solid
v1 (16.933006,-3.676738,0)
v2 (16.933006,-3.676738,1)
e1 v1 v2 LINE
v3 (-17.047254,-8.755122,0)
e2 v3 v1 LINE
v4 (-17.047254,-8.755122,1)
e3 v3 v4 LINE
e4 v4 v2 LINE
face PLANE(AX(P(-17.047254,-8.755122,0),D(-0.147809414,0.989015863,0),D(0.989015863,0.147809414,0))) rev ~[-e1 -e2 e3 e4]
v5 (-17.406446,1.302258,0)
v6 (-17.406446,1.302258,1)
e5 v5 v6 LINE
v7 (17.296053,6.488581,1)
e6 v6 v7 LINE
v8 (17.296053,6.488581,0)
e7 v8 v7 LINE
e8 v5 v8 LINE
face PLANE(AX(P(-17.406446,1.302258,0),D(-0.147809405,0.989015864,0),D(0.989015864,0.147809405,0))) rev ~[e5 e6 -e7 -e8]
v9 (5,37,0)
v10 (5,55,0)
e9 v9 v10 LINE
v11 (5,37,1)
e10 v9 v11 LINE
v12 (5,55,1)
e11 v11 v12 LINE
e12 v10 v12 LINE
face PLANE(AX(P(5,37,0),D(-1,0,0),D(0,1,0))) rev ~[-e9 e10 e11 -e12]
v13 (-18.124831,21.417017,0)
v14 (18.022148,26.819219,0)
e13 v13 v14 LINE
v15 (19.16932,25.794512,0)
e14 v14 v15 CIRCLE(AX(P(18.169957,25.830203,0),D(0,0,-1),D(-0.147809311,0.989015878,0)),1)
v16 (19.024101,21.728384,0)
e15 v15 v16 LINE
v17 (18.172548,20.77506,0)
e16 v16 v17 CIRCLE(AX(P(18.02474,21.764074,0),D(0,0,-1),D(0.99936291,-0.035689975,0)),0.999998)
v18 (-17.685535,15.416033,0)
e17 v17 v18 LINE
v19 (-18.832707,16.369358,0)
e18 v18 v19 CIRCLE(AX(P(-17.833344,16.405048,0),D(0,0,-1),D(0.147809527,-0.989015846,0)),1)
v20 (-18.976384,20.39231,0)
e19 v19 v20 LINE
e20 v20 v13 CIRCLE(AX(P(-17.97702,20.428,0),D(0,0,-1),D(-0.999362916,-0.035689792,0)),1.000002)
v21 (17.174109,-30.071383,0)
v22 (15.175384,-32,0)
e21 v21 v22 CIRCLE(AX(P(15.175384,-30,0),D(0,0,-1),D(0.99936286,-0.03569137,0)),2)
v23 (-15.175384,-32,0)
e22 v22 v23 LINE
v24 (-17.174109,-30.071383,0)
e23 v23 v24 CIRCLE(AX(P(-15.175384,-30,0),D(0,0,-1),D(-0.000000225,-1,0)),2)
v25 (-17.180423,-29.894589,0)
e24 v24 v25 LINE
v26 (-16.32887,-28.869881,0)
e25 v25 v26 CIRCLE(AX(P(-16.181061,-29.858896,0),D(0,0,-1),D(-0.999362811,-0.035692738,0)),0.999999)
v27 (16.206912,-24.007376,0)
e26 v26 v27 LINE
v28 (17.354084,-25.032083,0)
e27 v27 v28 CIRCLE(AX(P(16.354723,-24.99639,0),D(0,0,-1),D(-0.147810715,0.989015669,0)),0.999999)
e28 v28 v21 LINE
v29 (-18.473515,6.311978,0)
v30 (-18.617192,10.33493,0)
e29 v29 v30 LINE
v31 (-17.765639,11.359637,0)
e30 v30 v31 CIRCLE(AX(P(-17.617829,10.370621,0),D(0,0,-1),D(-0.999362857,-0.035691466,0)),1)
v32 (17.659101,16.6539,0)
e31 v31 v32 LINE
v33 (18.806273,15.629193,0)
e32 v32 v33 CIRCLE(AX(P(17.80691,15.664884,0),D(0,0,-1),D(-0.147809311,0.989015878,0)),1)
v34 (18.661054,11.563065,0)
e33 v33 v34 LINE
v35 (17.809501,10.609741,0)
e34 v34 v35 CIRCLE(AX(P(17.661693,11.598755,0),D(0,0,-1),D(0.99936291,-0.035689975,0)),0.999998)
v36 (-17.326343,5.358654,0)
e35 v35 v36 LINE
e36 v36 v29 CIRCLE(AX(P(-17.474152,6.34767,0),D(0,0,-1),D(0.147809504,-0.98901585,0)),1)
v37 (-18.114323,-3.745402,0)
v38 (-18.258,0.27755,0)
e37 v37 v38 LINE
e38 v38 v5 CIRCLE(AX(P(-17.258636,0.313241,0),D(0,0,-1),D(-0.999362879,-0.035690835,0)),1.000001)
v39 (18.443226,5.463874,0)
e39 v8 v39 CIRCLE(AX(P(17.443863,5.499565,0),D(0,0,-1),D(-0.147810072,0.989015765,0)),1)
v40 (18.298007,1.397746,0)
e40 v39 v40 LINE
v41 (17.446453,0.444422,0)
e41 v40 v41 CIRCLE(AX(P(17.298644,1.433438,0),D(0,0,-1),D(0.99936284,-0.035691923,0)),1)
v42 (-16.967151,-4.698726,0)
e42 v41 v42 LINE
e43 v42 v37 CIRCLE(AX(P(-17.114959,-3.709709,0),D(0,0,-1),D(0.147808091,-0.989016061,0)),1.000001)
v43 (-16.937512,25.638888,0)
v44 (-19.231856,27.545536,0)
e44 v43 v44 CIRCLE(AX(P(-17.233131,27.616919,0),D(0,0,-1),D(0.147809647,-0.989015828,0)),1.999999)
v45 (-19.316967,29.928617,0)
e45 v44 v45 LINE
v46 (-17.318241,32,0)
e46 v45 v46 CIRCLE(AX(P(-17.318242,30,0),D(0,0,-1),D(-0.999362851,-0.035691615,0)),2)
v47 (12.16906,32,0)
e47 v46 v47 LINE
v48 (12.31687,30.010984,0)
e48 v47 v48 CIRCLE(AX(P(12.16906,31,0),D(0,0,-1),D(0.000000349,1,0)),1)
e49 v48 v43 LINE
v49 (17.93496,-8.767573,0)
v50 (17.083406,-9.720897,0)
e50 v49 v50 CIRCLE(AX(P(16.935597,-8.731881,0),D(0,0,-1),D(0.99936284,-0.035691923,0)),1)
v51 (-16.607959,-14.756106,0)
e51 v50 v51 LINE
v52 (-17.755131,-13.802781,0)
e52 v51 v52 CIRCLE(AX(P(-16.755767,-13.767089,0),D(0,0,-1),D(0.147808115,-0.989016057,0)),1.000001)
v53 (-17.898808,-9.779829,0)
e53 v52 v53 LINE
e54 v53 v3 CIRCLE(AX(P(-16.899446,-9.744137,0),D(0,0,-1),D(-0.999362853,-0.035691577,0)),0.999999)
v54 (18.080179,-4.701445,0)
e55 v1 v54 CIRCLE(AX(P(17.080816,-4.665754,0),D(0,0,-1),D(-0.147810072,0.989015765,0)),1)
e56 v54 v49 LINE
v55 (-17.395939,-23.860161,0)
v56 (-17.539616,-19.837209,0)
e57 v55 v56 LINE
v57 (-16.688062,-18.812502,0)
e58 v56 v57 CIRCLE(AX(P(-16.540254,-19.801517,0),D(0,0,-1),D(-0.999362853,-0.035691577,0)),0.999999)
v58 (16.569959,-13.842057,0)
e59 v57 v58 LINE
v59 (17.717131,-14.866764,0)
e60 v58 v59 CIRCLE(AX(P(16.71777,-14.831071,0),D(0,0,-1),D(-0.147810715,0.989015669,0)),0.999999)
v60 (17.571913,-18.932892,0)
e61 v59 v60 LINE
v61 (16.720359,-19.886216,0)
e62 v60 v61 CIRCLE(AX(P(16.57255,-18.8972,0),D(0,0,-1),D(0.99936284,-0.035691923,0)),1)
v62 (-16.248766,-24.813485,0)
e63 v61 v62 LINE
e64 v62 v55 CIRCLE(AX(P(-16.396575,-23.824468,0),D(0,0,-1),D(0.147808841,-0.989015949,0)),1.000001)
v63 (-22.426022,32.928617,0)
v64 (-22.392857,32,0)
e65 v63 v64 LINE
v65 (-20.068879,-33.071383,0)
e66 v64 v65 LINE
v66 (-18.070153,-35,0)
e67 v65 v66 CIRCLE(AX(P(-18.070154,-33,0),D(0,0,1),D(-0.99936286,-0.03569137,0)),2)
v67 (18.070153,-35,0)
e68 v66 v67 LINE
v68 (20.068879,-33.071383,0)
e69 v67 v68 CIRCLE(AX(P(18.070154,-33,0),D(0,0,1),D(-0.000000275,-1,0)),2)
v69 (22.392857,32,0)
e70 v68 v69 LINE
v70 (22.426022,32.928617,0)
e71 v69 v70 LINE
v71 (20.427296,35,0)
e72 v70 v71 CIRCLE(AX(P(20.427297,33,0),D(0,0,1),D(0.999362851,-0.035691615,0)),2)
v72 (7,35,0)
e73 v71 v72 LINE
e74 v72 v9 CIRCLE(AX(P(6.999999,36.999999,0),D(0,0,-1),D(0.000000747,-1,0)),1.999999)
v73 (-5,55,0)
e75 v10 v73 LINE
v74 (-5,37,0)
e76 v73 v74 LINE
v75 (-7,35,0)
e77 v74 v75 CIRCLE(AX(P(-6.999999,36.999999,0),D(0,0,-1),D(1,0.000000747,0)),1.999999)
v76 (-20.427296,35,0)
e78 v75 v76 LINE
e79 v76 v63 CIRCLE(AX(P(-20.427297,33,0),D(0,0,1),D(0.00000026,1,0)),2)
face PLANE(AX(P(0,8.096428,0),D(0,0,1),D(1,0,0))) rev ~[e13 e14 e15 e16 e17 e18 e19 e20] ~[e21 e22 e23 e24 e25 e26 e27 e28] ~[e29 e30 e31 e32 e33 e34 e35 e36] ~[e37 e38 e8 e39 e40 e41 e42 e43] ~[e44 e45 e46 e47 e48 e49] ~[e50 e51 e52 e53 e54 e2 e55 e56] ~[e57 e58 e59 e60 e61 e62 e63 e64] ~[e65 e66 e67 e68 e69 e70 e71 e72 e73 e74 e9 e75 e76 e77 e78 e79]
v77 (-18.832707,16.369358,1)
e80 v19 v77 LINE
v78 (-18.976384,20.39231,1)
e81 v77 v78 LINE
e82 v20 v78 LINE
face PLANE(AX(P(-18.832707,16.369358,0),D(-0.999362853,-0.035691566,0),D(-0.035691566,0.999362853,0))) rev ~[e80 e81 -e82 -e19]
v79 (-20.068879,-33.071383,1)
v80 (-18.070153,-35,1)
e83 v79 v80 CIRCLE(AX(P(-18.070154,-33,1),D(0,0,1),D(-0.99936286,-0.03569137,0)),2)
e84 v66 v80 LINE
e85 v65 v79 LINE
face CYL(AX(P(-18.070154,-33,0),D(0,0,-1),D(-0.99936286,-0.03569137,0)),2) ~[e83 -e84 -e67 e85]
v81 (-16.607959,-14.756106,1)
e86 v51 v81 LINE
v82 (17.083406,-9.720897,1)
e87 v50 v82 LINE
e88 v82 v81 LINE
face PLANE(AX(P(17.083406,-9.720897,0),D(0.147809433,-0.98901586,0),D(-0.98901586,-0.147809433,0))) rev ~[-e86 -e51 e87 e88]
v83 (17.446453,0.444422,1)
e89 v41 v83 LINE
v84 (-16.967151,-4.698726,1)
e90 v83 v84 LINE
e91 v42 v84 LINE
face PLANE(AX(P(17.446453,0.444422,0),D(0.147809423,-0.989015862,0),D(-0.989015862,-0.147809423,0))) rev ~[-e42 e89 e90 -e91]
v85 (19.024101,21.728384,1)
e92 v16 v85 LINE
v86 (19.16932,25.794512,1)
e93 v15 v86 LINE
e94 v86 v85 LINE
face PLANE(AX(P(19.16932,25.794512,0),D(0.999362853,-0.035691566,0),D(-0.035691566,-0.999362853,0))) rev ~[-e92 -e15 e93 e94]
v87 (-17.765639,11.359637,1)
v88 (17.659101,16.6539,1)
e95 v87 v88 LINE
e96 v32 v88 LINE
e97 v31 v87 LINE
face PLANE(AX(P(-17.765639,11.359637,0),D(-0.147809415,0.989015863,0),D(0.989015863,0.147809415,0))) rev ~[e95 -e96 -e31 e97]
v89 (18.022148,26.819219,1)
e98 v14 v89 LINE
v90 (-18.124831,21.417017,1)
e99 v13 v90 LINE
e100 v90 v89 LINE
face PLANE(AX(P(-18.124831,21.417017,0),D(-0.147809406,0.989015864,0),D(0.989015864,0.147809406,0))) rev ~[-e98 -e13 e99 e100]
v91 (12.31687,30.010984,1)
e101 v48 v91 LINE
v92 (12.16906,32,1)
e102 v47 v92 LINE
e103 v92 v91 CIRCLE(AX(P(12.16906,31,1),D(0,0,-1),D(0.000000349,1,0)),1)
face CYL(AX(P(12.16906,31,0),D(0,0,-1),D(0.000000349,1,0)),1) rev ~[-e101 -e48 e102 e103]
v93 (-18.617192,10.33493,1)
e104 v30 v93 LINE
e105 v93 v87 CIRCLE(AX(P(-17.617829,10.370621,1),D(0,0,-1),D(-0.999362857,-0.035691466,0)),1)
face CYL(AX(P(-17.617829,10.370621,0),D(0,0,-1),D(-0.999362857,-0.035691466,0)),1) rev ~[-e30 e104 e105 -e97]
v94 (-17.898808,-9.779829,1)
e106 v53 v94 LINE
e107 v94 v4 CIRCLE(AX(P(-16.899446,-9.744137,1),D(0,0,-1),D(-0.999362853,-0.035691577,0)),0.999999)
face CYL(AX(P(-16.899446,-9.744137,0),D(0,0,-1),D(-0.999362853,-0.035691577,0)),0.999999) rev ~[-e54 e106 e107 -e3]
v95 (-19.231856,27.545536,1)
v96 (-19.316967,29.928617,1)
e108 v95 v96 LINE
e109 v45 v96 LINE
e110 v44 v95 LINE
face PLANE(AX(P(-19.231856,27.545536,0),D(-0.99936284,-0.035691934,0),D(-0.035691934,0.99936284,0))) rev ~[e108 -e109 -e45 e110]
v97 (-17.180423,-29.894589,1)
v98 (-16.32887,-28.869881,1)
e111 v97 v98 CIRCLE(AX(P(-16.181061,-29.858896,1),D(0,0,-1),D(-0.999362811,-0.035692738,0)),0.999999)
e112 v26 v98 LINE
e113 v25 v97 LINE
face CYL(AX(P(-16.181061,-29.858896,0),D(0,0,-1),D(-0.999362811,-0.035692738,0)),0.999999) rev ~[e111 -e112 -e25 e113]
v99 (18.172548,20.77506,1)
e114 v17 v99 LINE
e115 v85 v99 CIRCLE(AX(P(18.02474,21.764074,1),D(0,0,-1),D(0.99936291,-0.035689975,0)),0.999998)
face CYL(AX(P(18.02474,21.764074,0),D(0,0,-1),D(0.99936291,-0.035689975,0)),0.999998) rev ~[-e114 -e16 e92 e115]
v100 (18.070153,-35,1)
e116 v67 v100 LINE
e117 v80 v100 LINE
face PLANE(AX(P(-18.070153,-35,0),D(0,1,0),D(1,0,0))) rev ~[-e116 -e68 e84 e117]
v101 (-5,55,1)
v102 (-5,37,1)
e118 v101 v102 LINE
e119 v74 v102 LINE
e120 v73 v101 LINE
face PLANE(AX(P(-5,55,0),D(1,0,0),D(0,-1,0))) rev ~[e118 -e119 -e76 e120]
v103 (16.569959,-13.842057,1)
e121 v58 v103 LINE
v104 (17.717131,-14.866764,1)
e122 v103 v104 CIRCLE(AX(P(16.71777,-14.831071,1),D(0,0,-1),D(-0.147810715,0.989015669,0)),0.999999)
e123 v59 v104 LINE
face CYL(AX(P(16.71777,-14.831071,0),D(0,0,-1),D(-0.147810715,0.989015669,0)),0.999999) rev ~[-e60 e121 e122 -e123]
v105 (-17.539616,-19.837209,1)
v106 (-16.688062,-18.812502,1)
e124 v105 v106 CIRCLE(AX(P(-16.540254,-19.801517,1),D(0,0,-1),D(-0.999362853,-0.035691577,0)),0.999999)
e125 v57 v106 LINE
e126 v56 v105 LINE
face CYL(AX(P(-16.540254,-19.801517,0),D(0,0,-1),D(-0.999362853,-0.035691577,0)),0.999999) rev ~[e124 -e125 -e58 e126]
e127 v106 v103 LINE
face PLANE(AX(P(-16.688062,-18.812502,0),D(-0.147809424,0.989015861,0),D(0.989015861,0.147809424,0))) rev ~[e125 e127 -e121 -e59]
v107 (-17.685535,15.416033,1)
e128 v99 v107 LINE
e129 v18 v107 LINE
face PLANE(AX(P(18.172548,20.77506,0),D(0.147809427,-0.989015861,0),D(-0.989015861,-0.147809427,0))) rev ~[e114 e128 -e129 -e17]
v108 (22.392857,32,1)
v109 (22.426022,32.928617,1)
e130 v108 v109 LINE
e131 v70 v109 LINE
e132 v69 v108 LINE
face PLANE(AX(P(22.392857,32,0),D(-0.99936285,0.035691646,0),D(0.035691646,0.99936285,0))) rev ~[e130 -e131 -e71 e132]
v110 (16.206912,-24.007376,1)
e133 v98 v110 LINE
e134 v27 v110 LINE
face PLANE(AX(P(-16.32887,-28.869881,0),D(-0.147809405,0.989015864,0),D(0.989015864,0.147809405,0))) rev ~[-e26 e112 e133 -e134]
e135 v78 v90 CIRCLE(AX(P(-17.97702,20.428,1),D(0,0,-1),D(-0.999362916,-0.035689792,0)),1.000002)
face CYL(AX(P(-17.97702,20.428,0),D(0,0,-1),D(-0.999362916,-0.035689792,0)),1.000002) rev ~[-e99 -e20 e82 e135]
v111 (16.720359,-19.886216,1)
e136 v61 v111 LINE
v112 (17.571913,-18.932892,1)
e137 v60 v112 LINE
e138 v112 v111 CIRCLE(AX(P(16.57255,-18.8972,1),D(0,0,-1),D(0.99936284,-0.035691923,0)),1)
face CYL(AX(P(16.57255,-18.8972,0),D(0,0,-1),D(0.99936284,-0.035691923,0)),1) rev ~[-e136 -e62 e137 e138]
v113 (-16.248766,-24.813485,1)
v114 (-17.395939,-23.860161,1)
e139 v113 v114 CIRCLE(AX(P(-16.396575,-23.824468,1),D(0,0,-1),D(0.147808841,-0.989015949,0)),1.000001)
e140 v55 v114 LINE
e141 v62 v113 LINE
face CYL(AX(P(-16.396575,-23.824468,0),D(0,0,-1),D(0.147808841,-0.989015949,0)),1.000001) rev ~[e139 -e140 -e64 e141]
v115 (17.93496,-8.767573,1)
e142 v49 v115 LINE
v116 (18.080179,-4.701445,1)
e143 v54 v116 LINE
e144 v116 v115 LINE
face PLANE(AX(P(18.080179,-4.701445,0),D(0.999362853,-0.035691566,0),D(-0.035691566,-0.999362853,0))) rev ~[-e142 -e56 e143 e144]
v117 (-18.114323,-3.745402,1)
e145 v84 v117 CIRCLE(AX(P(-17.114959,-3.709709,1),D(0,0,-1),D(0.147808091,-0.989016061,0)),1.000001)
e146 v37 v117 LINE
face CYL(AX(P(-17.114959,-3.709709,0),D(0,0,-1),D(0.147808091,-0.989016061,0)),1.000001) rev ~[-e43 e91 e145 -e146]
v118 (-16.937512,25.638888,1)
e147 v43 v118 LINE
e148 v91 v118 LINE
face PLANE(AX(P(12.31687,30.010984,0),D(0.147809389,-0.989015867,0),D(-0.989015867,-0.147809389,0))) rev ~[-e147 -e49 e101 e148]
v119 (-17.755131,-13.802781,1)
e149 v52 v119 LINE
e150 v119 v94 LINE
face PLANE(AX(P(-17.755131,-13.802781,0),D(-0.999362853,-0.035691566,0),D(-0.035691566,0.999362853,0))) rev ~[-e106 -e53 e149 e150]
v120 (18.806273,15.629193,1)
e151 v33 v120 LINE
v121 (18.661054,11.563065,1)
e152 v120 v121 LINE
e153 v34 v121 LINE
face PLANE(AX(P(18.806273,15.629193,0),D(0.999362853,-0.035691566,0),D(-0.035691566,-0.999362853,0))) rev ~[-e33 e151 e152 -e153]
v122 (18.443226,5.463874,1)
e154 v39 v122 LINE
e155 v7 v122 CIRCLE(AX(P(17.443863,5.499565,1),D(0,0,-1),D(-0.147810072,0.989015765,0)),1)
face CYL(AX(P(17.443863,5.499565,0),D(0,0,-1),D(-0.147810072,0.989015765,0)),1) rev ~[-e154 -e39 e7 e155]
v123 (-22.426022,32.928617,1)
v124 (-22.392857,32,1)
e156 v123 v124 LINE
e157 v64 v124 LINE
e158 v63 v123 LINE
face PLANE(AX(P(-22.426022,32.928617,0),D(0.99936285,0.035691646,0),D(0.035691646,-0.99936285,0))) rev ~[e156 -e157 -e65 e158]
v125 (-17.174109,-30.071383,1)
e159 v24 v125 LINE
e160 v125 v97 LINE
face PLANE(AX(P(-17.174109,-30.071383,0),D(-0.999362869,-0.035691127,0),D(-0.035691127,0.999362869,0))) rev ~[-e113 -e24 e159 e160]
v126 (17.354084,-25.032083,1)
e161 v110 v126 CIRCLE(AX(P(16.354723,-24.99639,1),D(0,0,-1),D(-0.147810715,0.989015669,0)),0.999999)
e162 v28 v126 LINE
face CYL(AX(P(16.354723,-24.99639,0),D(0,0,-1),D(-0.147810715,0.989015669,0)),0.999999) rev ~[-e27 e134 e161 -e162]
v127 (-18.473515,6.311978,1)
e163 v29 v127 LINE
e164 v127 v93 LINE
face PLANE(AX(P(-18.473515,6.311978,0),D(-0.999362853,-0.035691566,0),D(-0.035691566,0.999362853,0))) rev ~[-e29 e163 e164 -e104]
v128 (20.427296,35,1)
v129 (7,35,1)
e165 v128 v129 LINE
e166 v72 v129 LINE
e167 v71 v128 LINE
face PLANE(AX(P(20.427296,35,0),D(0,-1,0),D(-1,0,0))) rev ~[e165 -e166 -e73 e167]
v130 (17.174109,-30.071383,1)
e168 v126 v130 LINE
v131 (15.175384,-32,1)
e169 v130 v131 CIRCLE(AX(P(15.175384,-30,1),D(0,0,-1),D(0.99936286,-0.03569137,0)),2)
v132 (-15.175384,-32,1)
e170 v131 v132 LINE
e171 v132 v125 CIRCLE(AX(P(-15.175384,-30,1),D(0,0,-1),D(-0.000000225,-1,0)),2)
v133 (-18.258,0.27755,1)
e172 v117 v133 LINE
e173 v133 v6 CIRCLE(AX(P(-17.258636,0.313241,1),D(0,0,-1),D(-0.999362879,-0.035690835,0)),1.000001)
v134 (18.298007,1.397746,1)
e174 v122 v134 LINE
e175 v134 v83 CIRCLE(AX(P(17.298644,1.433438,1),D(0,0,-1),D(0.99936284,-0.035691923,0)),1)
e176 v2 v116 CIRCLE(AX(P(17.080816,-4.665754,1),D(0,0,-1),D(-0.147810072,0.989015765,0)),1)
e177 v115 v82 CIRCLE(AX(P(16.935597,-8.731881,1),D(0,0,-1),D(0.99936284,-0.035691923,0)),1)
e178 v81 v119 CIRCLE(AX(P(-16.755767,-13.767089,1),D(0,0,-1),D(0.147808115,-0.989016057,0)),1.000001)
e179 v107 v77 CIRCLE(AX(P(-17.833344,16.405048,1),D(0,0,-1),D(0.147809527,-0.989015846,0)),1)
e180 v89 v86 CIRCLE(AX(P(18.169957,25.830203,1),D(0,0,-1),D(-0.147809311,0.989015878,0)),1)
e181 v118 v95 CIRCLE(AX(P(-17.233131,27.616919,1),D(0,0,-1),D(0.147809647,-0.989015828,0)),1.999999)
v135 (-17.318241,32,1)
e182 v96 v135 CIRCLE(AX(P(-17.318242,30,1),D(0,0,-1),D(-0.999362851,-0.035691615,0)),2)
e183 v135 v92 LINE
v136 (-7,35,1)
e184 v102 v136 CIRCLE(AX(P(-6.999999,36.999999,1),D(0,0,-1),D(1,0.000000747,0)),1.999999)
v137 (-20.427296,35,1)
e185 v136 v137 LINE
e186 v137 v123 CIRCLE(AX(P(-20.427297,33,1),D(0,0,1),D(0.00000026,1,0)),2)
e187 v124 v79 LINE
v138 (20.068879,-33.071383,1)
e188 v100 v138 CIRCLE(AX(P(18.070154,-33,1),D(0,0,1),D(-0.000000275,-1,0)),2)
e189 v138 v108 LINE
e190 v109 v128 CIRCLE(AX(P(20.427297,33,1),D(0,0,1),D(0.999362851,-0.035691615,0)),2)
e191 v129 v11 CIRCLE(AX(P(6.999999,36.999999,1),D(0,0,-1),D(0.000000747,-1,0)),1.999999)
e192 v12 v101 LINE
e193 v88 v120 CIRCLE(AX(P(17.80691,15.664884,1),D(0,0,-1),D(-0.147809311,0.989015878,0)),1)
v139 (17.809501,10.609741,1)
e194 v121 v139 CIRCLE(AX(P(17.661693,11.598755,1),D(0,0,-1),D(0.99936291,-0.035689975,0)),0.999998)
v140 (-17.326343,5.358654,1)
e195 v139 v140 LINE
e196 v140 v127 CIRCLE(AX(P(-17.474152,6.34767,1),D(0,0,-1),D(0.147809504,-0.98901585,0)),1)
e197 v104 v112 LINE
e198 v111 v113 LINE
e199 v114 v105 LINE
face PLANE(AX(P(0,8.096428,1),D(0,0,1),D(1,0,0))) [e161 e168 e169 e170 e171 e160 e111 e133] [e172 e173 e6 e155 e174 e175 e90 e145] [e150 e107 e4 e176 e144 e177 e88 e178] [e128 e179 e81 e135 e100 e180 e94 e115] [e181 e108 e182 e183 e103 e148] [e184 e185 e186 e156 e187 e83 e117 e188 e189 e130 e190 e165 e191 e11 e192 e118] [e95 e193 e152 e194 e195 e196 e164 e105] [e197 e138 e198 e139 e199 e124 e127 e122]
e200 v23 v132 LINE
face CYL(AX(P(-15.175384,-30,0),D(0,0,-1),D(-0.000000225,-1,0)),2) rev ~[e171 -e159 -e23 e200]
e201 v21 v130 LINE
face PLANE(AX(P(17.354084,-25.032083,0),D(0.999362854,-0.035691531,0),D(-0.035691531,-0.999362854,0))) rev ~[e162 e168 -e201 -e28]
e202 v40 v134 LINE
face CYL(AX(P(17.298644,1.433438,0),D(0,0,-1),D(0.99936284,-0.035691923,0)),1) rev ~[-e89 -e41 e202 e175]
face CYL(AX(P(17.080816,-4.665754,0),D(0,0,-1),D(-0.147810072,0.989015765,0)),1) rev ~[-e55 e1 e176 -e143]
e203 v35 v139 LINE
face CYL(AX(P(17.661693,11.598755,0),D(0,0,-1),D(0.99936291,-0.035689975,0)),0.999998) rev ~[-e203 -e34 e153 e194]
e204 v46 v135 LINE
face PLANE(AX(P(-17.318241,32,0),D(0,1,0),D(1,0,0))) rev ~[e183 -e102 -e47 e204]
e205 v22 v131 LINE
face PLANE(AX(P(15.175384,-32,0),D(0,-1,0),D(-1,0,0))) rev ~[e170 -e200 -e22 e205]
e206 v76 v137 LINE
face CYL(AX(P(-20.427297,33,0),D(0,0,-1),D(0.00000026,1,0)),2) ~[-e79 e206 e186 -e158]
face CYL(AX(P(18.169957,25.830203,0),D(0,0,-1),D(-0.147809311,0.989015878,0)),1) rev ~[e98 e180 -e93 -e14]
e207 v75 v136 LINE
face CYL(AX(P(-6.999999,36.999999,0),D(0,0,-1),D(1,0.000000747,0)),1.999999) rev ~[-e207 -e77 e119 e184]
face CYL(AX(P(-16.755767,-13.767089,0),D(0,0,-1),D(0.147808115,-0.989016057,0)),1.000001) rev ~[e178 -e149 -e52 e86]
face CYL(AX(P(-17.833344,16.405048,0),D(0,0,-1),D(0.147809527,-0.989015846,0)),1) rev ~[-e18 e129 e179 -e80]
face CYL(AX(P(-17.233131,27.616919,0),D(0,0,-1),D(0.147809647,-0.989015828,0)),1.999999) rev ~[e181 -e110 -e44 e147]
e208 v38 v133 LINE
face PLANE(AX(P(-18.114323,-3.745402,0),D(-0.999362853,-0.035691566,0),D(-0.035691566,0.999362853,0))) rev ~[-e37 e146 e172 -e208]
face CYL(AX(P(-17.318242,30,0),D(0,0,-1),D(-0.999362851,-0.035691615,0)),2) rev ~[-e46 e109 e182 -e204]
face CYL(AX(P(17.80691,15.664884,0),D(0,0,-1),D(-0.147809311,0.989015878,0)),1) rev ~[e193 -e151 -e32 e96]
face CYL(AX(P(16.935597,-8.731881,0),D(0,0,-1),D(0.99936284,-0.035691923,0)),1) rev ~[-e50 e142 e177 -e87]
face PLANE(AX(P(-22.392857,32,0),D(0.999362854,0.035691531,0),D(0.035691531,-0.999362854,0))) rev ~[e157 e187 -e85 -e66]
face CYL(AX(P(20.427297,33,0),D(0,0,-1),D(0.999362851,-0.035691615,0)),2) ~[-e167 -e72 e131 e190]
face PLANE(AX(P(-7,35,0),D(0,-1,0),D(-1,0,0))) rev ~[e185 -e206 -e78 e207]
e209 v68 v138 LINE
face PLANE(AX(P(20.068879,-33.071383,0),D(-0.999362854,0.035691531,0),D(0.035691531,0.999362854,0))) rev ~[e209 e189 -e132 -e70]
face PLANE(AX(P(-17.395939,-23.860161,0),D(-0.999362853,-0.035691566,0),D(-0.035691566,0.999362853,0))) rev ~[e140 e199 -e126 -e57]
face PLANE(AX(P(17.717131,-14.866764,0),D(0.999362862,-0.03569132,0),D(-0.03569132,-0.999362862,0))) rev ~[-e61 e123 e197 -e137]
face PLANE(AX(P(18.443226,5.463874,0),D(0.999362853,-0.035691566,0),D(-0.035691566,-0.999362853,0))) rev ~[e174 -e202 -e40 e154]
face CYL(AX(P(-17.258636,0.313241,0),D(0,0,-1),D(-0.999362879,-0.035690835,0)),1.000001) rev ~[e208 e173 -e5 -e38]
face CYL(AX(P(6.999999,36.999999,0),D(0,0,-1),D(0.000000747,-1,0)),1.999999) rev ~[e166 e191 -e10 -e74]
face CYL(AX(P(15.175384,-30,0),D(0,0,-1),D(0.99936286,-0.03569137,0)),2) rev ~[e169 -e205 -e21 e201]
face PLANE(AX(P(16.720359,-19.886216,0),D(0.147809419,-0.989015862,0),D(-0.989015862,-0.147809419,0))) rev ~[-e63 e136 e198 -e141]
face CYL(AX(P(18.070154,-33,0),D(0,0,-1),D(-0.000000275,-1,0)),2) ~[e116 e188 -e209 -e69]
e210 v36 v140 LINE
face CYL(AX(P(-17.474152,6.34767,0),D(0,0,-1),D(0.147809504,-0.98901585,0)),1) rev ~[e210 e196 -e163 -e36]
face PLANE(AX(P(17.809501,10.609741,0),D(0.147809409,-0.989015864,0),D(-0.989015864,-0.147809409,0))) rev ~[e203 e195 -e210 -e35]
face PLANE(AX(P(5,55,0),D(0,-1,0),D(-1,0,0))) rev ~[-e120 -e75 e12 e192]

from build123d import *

# Parameters (mm, degrees)
F1_DEPTH = 1


with BuildPart() as f1:
    # F0 (on Top) → F1 (new body)
    with BuildSketch(Plane.XY):
        with BuildLine():
            Line((-22.392857, 32), (-20.068879, -33.071383))
            ThreePointArc((-20.068879, -33.071383), (-19.4589, -34.43923), (-18.070153, -35))
            Line((-18.070153, -35), (18.070153, -35))
            ThreePointArc((18.070153, -35), (19.4589, -34.43923), (20.068879, -33.071383))
            Line((20.068879, -33.071383), (22.392857, 32))
            Line((22.392857, 32), (22.426022, 32.928617))
            ThreePointArc((22.426022, 32.928617), (21.866526, 34.388747), (20.427296, 35))
            Line((20.427296, 35), (7, 35))
            ThreePointArc((7, 35), (5.585786, 35.585786), (5, 37))
            Line((5, 37), (5, 55))
            Line((5, 55), (-5, 55))
            Line((-5, 55), (-5, 37))
            ThreePointArc((-5, 37), (-5.585786, 35.585786), (-7, 35))
            Line((-7, 35), (-20.427296, 35))
            ThreePointArc((-20.427296, 35), (-21.866526, 34.388747), (-22.426022, 32.928617))
            Line((-22.426022, 32.928617), (-22.392857, 32))
        make_face()
        with BuildLine():
            Line((-16.32887, -28.869881), (16.206912, -24.007376))
            ThreePointArc((16.206912, -24.007376), (17.020899, -24.250598), (17.354084, -25.032083))
            Line((17.354084, -25.032083), (17.174109, -30.071383))
            ThreePointArc((17.174109, -30.071383), (16.56413, -31.43923), (15.175384, -32))
            Line((15.175384, -32), (-15.175384, -32))
            ThreePointArc((-15.175384, -32), (-16.56413, -31.43923), (-17.174109, -30.071383))
            Line((-17.174109, -30.071383), (-17.180423, -29.894589))
            ThreePointArc((-17.180423, -29.894589), (-16.950156, -29.219763), (-16.32887, -28.869881))
        make_face(mode=Mode.SUBTRACT)
        with BuildLine():
            Line((-16.688062, -18.812502), (16.569959, -13.842057))
            ThreePointArc((16.569959, -13.842057), (17.383946, -14.085279), (17.717131, -14.866764))
            Line((17.717131, -14.866764), (17.571913, -18.932892))
            ThreePointArc((17.571913, -18.932892), (17.318343, -19.563378), (16.720359, -19.886216))
            Line((16.720359, -19.886216), (-16.248766, -24.813485))
            ThreePointArc((-16.248766, -24.813485), (-17.03571, -24.593564), (-17.395939, -23.860161))
            Line((-17.395939, -23.860161), (-17.539616, -19.837209))
            ThreePointArc((-17.539616, -19.837209), (-17.309348, -19.162383), (-16.688062, -18.812502))
        make_face(mode=Mode.SUBTRACT)
        with BuildLine():
            Line((-17.047254, -8.755122), (16.933006, -3.676738))
            ThreePointArc((16.933006, -3.676738), (17.746993, -3.91996), (18.080179, -4.701445))
            Line((18.080179, -4.701445), (17.93496, -8.767573))
            ThreePointArc((17.93496, -8.767573), (17.68139, -9.398059), (17.083406, -9.720897))
            Line((17.083406, -9.720897), (-16.607959, -14.756106))
            ThreePointArc((-16.607959, -14.756106), (-17.394902, -14.536185), (-17.755131, -13.802781))
            Line((-17.755131, -13.802781), (-17.898808, -9.779829))
            ThreePointArc((-17.898808, -9.779829), (-17.66854, -9.105003), (-17.047254, -8.755122))
        make_face(mode=Mode.SUBTRACT)
        with BuildLine():
            Line((-17.406446, 1.302258), (17.296053, 6.488581))
            ThreePointArc((17.296053, 6.488581), (18.11004, 6.245359), (18.443226, 5.463874))
            Line((18.443226, 5.463874), (18.298007, 1.397746))
            ThreePointArc((18.298007, 1.397746), (18.044437, 0.76726), (17.446453, 0.444422))
            Line((17.446453, 0.444422), (-16.967151, -4.698726))
            ThreePointArc((-16.967151, -4.698726), (-17.754094, -4.478805), (-18.114323, -3.745402))
            Line((-18.114323, -3.745402), (-18.258, 0.27755))
            ThreePointArc((-18.258, 0.27755), (-18.027732, 0.952376), (-17.406446, 1.302258))
        make_face(mode=Mode.SUBTRACT)
        with BuildLine():
            ThreePointArc((12.16906, 32), (13.16631, 31.074108), (12.31687, 30.010984))
            Line((12.31687, 30.010984), (-16.937512, 25.638888))
            ThreePointArc((-16.937512, 25.638888), (-18.511399, 26.078729), (-19.231856, 27.545536))
            Line((-19.231856, 27.545536), (-19.316967, 29.928617))
            ThreePointArc((-19.316967, 29.928617), (-18.757471, 31.388747), (-17.318241, 32))
            Line((-17.318241, 32), (12.16906, 32))
        make_face(mode=Mode.SUBTRACT)
        with BuildLine():
            Line((-17.765639, 11.359637), (17.659101, 16.6539))
            ThreePointArc((17.659101, 16.6539), (18.473087, 16.410678), (18.806273, 15.629193))
            Line((18.806273, 15.629193), (18.661054, 11.563065))
            ThreePointArc((18.661054, 11.563065), (18.407485, 10.932579), (17.809501, 10.609741))
            Line((17.809501, 10.609741), (-17.326343, 5.358654))
            ThreePointArc((-17.326343, 5.358654), (-18.113287, 5.578575), (-18.473515, 6.311978))
            Line((-18.473515, 6.311978), (-18.617192, 10.33493))
            ThreePointArc((-18.617192, 10.33493), (-18.386924, 11.009756), (-17.765639, 11.359637))
        make_face(mode=Mode.SUBTRACT)
        with BuildLine():
            Line((-18.124831, 21.417017), (18.022148, 26.819219))
            ThreePointArc((18.022148, 26.819219), (18.836134, 26.575997), (19.16932, 25.794512))
            Line((19.16932, 25.794512), (19.024101, 21.728384))
            ThreePointArc((19.024101, 21.728384), (18.770532, 21.097898), (18.172548, 20.77506))
            Line((18.172548, 20.77506), (-17.685535, 15.416033))
            ThreePointArc((-17.685535, 15.416033), (-18.472479, 15.635954), (-18.832707, 16.369358))
            Line((-18.832707, 16.369358), (-18.976384, 20.39231))
            ThreePointArc((-18.976384, 20.39231), (-18.746116, 21.067135), (-18.124831, 21.417017))
        make_face(mode=Mode.SUBTRACT)
    extrude(amount=F1_DEPTH)


solid = f1.part
